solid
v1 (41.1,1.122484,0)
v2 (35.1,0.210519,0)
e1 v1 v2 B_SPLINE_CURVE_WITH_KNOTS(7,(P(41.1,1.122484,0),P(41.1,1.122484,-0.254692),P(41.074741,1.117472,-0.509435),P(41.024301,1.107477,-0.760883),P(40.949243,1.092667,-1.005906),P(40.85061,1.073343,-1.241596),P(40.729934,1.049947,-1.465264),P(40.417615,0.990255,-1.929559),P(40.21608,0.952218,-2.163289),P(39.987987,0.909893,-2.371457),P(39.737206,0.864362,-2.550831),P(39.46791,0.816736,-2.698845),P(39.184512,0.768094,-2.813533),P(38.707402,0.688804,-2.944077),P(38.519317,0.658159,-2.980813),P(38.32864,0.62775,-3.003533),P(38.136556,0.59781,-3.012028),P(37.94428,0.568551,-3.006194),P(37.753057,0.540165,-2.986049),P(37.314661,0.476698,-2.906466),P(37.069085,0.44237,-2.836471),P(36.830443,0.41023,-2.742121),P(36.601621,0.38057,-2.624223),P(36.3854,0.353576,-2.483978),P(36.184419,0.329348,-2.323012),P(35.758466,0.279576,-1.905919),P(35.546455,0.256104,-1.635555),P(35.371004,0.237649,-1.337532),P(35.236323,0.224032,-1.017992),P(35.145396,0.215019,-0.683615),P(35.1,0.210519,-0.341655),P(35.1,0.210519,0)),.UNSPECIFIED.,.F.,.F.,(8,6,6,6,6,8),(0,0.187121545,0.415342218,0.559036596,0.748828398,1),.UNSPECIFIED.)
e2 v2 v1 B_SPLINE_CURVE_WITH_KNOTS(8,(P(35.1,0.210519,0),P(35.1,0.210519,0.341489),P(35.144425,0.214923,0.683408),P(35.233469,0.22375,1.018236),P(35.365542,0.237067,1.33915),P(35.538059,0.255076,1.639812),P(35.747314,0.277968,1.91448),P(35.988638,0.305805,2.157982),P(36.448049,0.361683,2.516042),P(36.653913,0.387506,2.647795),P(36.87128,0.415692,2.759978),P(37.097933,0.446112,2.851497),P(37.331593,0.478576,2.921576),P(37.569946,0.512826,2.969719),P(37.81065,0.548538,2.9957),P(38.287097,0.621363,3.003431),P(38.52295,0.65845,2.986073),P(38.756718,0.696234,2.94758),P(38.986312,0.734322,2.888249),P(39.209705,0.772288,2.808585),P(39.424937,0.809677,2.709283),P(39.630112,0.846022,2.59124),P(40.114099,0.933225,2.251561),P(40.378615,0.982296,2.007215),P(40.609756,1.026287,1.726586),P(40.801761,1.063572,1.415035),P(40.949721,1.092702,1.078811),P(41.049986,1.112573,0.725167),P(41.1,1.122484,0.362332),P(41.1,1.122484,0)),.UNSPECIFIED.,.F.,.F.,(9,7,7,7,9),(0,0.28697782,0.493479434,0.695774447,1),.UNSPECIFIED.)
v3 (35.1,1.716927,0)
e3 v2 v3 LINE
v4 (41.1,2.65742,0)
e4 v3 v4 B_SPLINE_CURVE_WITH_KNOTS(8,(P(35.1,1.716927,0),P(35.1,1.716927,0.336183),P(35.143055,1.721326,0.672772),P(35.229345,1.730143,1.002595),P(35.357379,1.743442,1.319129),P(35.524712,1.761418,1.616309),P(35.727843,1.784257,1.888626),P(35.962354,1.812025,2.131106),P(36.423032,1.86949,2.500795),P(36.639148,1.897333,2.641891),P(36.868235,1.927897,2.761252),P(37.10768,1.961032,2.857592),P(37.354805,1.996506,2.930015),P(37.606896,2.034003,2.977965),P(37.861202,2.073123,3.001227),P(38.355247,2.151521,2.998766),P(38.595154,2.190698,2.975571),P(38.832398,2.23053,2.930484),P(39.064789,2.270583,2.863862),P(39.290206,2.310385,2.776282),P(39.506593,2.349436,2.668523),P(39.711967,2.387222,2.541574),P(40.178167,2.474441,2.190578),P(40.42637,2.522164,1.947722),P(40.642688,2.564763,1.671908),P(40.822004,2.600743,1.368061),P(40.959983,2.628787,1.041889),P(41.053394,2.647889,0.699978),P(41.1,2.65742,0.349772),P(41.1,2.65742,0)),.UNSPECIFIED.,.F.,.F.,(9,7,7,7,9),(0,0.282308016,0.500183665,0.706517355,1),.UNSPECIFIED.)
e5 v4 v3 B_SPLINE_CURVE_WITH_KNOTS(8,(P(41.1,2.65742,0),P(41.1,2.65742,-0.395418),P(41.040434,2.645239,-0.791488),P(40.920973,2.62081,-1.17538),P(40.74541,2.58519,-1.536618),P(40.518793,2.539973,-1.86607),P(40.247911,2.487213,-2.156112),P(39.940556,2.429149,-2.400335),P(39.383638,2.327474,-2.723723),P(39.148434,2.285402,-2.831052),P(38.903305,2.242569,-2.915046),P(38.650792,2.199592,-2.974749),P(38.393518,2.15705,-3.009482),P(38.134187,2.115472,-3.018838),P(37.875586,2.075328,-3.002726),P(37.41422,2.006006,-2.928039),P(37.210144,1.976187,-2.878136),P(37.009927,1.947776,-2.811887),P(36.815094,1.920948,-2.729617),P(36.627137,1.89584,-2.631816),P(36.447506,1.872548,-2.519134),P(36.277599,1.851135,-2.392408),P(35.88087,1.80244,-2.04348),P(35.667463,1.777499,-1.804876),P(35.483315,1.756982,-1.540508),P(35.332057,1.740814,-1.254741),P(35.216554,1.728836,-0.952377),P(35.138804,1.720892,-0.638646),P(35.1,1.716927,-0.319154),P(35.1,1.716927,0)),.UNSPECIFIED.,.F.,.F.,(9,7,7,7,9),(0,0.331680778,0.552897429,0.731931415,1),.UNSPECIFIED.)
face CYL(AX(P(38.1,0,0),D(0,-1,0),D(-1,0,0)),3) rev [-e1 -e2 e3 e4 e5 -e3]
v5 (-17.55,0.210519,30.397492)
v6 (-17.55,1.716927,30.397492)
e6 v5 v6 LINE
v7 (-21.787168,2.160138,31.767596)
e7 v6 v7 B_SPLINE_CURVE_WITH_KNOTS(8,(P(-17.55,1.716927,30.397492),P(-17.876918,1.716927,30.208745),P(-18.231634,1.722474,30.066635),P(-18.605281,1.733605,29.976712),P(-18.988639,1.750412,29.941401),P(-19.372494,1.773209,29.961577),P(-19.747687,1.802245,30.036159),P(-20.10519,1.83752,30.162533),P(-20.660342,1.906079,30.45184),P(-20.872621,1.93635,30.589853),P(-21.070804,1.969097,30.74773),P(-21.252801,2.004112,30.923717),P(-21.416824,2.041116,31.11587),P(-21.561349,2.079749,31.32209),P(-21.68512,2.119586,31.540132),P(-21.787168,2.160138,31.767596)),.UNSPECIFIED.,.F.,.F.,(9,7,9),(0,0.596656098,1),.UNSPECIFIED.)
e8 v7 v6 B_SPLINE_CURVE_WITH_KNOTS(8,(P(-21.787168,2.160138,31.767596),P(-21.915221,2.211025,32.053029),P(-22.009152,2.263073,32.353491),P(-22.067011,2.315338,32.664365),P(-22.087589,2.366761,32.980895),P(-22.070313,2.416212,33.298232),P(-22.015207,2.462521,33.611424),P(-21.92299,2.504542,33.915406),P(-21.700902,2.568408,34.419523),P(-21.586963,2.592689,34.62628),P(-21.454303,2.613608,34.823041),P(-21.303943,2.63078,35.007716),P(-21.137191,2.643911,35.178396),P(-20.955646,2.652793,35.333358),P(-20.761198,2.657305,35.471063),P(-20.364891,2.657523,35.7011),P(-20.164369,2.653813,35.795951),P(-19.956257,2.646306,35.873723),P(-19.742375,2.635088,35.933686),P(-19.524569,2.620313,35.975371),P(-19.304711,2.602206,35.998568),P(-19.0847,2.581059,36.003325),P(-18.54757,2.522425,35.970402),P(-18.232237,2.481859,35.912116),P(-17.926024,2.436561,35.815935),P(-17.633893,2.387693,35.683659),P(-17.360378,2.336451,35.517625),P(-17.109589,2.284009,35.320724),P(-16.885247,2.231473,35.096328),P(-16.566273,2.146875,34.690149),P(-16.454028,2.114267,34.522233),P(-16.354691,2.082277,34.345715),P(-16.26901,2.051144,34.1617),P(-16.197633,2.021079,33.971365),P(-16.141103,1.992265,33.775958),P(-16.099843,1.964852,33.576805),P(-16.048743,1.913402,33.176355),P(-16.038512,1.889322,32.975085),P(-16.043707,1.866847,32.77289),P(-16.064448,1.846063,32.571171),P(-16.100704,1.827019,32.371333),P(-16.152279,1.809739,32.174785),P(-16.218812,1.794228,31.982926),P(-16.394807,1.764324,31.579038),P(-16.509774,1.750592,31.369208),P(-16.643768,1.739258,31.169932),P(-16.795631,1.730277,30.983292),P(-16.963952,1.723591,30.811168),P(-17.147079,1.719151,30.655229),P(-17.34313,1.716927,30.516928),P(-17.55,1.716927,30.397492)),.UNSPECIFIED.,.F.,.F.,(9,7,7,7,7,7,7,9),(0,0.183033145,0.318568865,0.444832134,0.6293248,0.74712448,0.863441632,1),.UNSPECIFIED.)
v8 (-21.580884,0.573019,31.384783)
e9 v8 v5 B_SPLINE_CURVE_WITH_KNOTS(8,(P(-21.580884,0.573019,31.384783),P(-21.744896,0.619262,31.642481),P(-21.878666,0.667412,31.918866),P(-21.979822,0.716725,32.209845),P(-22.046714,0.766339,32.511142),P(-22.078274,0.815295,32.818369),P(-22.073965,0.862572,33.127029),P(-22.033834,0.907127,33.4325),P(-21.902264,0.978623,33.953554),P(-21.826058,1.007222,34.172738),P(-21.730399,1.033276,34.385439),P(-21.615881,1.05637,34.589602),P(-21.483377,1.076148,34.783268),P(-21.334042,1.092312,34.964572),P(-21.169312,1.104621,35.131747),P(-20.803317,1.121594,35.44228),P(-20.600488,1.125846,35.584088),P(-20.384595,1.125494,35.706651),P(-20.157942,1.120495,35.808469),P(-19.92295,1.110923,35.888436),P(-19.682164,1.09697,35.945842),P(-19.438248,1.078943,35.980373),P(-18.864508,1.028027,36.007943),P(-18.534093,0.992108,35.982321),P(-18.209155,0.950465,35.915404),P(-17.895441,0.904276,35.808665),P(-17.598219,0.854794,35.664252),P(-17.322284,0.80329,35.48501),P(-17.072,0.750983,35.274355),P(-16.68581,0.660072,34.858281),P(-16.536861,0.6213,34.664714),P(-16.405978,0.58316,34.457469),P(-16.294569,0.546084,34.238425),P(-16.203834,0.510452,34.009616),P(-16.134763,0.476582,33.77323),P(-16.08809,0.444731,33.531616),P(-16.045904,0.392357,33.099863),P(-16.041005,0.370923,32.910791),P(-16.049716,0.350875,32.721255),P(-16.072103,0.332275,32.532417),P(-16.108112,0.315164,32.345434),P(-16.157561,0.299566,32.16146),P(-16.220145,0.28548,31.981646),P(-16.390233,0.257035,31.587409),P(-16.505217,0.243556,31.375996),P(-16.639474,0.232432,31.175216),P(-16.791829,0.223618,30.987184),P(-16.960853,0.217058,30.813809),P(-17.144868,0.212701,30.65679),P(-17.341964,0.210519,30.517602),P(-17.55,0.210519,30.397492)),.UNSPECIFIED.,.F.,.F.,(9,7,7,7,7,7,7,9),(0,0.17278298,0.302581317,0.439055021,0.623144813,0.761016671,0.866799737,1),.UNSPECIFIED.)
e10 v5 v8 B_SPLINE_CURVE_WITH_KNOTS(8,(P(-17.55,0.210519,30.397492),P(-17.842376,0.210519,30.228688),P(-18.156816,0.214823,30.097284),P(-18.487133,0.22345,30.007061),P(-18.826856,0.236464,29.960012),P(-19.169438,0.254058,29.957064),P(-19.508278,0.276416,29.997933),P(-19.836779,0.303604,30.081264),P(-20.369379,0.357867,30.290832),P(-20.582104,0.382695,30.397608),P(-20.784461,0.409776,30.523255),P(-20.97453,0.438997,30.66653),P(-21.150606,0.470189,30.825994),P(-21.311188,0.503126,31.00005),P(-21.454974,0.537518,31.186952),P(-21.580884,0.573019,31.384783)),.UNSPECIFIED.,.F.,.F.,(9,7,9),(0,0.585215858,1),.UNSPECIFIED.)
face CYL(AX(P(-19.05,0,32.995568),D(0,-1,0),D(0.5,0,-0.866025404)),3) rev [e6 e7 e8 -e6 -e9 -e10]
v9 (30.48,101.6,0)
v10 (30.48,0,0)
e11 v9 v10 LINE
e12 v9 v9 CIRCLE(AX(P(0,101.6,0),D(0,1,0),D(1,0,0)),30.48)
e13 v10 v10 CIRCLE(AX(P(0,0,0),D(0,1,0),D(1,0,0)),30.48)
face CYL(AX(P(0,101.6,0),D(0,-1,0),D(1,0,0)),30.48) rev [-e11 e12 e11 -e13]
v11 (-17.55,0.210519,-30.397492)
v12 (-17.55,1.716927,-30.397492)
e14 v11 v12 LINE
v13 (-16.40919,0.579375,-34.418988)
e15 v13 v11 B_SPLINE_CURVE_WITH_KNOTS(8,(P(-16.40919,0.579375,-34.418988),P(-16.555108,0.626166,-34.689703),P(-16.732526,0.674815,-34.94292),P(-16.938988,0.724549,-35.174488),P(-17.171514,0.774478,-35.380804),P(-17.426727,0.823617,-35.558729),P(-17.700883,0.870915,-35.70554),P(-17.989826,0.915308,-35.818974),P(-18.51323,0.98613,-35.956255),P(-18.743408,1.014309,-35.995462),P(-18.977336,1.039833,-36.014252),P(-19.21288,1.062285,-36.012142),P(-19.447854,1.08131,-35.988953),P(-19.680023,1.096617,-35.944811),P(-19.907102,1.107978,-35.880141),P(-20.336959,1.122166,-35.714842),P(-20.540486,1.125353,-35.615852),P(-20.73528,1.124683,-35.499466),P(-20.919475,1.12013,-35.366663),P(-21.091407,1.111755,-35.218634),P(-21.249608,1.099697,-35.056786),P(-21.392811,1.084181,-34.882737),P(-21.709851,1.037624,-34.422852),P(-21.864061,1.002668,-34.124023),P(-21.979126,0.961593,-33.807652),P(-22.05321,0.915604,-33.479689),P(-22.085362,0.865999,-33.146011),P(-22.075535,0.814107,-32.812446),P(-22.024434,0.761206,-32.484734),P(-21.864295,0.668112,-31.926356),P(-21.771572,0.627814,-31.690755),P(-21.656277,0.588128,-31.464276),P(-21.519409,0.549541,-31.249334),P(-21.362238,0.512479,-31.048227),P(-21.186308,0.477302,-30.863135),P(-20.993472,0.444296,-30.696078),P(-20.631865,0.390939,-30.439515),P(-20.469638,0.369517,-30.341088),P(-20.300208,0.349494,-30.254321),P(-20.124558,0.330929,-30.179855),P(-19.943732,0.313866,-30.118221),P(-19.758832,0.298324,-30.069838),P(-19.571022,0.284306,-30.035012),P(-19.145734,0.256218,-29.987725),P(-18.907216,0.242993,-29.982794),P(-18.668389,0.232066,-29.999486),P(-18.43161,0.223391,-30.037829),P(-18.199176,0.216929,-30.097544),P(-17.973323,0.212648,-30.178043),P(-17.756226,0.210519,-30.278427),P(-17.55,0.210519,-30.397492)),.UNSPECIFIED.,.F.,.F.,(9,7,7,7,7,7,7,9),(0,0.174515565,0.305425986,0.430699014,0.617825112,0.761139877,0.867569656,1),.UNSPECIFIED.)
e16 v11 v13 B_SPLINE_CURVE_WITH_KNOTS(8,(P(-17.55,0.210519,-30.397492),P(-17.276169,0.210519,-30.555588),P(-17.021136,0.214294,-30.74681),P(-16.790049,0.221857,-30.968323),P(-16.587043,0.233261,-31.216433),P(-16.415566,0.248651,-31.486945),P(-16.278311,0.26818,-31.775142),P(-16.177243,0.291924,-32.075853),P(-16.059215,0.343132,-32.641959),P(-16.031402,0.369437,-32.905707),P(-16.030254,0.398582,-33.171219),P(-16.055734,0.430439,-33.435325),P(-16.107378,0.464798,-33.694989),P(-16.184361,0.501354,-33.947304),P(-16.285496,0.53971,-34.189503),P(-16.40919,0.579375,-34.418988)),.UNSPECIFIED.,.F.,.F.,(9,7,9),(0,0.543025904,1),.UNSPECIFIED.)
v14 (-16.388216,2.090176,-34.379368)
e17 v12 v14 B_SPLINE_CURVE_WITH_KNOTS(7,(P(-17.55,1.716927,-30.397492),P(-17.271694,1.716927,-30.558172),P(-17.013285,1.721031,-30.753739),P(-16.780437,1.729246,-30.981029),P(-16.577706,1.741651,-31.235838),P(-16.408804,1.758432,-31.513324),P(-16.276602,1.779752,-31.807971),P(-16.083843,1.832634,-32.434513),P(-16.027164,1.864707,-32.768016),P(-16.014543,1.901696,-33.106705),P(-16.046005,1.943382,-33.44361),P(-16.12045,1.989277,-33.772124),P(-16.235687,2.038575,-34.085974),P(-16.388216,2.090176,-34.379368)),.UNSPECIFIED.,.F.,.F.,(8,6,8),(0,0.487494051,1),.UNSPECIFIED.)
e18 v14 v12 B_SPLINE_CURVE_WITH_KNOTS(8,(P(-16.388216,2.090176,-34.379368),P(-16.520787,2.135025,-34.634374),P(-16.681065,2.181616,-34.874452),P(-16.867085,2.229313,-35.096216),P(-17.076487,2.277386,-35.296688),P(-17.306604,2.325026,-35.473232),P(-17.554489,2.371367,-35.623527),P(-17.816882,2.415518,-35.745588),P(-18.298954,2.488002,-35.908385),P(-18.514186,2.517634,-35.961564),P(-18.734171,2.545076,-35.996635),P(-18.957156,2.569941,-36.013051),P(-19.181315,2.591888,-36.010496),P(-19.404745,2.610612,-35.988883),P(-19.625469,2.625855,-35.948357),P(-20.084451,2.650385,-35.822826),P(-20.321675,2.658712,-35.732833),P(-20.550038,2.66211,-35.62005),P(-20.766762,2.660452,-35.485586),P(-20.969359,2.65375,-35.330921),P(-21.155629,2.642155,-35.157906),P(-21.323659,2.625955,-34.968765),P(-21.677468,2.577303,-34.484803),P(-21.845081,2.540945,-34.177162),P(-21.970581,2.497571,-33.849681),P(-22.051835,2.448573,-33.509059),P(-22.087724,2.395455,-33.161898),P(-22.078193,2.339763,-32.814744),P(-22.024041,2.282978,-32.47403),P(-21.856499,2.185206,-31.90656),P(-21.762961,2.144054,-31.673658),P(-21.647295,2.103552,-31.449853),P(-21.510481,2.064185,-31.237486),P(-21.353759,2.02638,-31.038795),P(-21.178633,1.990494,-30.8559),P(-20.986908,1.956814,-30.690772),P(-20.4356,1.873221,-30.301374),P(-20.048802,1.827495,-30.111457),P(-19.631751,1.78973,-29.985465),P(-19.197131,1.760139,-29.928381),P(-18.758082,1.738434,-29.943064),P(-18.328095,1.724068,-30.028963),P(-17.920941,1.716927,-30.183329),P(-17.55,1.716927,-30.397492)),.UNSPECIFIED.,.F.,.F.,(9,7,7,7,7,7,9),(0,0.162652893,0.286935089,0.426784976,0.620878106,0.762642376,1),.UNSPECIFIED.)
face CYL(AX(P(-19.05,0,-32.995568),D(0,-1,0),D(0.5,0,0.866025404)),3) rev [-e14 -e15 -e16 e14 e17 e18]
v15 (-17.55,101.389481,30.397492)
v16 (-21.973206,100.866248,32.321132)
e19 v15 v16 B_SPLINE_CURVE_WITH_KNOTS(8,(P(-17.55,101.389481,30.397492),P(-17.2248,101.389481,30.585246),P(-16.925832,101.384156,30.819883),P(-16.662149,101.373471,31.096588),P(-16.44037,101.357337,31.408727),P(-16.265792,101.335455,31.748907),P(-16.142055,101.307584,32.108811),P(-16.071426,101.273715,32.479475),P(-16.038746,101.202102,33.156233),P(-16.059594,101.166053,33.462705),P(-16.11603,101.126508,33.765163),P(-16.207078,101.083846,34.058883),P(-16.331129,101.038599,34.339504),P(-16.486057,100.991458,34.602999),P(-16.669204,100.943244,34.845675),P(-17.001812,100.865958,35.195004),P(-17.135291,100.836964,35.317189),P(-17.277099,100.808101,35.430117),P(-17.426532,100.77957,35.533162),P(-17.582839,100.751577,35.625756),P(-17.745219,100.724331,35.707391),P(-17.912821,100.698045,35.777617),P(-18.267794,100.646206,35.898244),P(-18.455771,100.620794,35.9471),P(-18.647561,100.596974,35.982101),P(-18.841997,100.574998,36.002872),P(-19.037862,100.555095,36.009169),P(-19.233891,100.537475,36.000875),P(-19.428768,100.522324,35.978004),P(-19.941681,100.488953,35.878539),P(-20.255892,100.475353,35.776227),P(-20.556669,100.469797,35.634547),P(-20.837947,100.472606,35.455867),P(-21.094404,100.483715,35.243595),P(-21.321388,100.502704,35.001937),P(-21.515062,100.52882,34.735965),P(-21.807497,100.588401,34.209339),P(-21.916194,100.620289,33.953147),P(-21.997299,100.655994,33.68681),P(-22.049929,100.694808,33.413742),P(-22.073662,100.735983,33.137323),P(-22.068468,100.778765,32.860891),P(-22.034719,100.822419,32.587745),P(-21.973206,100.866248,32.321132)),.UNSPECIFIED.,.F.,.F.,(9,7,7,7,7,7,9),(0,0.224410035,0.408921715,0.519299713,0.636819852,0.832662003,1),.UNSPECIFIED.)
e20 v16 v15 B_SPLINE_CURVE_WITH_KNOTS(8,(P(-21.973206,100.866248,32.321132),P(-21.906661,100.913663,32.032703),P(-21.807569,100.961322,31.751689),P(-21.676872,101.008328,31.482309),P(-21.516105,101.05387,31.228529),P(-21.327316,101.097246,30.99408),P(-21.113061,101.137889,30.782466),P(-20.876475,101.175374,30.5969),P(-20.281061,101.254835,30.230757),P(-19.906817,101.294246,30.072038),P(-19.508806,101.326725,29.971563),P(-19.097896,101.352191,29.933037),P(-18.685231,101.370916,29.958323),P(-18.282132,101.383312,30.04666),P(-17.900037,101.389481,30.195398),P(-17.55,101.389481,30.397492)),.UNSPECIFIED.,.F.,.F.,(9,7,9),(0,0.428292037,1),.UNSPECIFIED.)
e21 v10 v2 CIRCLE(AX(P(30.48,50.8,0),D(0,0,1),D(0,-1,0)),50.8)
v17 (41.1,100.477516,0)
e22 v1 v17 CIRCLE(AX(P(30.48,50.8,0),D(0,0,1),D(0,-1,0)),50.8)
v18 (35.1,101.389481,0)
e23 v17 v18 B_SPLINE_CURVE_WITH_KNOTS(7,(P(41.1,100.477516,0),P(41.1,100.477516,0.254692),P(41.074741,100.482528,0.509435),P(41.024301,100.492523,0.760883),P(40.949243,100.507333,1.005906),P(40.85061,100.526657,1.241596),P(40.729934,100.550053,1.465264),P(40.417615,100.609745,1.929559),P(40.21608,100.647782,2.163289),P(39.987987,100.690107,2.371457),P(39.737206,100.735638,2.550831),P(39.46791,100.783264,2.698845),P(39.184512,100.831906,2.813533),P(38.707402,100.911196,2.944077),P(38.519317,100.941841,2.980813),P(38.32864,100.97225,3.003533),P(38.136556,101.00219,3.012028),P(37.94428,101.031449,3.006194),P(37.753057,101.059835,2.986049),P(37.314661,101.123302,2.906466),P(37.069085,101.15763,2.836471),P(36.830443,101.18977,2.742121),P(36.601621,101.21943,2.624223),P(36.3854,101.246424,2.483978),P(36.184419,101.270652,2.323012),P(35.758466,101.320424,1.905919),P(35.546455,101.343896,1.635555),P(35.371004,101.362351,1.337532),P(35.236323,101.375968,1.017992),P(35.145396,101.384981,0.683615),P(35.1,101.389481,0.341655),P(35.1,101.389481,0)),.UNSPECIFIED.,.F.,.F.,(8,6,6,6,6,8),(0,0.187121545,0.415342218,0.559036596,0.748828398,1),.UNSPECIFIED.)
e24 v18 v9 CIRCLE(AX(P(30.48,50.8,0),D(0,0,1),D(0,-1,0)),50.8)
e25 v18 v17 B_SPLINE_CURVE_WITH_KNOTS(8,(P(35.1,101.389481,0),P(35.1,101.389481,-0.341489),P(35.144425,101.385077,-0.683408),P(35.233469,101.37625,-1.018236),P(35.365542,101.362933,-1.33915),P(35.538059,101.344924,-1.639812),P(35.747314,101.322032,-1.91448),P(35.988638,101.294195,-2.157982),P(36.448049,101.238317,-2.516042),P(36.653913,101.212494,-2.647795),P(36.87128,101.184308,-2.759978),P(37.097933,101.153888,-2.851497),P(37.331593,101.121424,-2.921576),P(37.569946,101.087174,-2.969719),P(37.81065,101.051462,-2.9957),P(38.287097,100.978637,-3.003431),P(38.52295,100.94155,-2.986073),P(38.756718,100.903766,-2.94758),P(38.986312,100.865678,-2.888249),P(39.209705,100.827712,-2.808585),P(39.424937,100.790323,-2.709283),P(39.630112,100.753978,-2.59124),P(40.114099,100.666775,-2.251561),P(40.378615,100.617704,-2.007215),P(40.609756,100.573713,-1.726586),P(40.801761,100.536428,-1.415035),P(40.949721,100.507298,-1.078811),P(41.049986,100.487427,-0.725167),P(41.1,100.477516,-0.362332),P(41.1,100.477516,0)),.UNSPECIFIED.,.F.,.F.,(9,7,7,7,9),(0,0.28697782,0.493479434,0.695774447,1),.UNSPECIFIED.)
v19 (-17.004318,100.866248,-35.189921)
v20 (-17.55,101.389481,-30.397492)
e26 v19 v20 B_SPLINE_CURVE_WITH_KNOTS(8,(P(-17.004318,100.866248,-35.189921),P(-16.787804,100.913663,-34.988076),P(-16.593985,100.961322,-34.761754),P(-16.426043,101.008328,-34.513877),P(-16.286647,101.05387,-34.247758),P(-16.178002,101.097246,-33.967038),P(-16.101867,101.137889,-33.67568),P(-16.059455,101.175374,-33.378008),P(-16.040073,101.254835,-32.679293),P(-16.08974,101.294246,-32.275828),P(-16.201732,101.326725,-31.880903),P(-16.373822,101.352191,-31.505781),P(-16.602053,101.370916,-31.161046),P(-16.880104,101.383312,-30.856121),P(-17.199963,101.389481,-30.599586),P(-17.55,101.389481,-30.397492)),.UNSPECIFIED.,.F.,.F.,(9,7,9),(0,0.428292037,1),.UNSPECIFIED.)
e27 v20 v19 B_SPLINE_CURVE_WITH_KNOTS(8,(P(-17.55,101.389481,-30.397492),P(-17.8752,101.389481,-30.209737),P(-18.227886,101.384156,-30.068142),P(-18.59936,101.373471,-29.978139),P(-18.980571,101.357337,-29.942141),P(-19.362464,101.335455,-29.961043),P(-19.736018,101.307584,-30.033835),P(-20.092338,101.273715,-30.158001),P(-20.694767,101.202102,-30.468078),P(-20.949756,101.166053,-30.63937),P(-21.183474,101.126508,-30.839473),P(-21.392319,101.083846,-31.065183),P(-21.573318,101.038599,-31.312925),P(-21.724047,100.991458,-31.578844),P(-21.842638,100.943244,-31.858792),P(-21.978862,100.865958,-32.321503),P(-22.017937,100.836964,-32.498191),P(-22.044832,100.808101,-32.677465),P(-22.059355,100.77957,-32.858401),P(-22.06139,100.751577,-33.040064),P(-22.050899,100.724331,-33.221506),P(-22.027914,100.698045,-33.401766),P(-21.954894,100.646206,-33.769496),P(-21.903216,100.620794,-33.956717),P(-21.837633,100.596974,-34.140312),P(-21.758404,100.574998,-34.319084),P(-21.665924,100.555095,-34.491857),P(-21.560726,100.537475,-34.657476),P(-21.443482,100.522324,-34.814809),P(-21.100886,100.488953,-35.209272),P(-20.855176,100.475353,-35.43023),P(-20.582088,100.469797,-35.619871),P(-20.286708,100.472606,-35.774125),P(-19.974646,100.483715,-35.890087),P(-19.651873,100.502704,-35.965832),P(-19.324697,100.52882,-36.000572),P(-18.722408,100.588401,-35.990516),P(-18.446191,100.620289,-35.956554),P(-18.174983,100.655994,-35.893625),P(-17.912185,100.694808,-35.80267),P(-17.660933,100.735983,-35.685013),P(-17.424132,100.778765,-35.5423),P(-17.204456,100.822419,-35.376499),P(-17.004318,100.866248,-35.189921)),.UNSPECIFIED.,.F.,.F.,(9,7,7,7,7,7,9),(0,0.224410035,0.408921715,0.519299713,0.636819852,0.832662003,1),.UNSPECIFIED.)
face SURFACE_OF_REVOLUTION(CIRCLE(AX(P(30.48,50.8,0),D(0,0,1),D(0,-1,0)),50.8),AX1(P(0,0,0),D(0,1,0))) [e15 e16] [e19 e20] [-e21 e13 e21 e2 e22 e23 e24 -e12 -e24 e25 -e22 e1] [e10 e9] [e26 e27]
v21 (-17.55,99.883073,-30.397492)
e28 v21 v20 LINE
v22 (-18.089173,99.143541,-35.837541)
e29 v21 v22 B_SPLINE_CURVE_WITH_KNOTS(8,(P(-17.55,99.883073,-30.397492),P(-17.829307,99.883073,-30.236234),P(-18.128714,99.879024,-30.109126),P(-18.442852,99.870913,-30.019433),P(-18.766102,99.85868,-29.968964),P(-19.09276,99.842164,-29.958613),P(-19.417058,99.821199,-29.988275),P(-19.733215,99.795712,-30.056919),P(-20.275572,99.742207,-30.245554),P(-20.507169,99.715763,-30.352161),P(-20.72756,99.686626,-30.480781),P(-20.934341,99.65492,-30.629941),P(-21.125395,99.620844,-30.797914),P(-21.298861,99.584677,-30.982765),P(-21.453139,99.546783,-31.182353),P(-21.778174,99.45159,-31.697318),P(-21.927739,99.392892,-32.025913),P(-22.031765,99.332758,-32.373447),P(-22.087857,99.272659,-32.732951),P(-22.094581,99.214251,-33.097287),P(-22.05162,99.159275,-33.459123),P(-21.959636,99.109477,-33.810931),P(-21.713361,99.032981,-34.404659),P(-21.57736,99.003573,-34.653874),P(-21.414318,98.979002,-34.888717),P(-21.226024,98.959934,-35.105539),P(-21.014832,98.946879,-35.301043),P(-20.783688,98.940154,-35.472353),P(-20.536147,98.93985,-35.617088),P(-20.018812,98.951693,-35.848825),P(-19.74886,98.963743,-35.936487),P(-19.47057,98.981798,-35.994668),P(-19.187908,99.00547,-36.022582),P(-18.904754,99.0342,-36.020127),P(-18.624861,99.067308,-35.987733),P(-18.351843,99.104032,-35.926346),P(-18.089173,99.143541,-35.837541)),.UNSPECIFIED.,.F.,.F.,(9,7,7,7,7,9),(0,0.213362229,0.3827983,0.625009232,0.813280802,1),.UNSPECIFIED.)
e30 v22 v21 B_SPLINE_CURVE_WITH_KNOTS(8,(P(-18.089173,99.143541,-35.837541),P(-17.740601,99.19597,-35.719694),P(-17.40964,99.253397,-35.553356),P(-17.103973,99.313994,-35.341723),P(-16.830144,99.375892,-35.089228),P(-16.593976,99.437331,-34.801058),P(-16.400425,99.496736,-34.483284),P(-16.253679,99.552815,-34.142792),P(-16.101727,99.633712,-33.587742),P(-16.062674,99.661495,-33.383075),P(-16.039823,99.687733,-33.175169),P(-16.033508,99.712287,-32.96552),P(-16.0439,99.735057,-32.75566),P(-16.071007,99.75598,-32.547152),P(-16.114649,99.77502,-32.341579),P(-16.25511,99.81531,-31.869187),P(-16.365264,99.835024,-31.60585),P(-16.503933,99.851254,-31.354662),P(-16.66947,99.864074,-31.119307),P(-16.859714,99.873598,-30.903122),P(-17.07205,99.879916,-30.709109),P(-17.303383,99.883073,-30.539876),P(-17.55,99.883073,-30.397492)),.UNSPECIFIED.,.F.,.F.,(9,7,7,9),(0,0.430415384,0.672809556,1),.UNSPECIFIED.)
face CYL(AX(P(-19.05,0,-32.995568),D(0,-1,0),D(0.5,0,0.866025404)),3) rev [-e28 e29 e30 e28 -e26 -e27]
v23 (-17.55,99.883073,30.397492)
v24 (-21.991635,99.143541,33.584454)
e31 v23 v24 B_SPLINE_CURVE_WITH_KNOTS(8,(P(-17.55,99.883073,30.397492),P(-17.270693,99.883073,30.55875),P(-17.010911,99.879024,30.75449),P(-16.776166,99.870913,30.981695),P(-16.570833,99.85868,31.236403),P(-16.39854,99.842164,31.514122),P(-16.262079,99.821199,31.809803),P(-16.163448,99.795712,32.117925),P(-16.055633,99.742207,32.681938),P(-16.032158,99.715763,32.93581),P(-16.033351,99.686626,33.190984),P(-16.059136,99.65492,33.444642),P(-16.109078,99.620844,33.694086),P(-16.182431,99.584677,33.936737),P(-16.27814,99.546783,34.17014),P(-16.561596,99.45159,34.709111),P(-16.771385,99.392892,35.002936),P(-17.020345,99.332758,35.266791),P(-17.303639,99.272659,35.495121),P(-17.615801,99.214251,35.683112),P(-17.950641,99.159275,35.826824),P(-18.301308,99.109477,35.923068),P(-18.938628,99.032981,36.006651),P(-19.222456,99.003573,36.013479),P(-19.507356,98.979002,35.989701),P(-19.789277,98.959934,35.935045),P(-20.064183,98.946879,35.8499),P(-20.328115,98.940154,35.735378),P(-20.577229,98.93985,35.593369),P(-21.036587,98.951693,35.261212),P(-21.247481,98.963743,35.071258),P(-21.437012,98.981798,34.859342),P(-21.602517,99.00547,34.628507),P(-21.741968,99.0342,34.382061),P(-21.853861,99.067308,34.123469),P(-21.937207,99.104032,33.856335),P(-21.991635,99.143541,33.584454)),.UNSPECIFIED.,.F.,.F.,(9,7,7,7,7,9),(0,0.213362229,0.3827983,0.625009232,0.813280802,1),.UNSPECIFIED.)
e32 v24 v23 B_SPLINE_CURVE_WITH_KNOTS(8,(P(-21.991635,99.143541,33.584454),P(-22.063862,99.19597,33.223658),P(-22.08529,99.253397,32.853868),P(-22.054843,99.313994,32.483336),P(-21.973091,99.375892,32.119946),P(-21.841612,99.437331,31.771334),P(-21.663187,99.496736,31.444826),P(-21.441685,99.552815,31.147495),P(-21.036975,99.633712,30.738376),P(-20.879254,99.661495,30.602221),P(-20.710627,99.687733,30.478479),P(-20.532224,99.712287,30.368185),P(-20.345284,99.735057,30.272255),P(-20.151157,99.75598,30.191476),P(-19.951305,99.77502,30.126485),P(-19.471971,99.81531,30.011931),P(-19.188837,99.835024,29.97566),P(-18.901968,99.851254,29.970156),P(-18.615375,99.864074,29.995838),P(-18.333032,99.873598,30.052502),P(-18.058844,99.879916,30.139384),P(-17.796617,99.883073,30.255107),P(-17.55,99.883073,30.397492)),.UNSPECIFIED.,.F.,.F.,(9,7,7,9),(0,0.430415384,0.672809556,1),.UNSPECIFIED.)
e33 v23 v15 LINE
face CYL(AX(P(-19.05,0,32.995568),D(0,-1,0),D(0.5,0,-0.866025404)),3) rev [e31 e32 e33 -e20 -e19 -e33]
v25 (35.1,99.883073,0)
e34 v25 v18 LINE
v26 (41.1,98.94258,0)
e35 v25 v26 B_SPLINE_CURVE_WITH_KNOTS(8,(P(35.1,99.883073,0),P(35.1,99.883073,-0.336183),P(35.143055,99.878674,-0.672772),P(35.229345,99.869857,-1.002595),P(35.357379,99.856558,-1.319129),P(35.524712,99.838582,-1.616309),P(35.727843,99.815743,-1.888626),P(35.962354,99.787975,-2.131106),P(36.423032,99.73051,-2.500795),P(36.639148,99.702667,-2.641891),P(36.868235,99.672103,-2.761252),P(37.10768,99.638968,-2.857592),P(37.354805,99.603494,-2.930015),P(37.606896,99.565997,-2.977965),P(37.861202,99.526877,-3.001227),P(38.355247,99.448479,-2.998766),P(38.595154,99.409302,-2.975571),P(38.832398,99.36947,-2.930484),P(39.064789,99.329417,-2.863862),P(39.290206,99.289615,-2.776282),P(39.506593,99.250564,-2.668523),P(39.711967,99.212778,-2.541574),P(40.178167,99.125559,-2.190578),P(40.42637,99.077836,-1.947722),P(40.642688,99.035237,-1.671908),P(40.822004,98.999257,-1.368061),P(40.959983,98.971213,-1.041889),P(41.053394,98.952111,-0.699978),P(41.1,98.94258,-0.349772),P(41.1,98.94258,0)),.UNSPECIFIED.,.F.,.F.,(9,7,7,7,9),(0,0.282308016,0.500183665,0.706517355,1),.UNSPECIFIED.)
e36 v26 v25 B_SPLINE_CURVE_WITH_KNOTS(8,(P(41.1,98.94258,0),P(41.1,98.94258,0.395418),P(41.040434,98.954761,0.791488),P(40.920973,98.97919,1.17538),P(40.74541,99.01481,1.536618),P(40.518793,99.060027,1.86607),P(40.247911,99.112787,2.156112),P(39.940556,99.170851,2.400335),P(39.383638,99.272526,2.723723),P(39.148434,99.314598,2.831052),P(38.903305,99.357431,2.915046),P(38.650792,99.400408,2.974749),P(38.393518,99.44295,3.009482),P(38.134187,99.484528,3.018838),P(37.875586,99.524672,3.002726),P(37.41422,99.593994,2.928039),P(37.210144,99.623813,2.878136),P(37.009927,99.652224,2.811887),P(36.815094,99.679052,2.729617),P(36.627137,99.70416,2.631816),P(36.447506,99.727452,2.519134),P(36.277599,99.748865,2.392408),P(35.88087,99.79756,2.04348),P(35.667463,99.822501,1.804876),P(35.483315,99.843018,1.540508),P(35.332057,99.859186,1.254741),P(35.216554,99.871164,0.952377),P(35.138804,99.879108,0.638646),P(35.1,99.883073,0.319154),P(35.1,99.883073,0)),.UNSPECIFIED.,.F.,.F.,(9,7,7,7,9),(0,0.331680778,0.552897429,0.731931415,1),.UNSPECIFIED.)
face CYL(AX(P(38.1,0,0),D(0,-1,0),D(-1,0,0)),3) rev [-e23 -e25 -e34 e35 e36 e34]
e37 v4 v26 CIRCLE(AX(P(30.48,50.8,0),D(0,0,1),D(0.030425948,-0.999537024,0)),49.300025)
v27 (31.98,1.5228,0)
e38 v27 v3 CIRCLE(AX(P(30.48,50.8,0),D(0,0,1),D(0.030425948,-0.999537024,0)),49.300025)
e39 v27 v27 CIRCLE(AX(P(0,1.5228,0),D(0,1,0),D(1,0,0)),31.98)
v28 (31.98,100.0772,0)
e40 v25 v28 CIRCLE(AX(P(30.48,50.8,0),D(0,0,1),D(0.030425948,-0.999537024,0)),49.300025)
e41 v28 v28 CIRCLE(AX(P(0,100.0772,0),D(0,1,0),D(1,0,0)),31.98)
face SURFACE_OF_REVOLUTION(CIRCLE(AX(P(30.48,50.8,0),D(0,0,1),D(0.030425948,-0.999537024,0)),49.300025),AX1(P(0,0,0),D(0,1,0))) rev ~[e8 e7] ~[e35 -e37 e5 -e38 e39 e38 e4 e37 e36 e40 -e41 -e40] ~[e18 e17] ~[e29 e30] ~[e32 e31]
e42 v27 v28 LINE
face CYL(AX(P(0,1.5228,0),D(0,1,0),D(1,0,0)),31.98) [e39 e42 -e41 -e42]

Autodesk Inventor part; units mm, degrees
ref_plane "YZ Plane" through (0, 0, 0) normal (1, 0, 0) x (0, 1, 0)
ref_plane "XZ Plane" through (0, 0, 0) normal (0, 1, 0) x (-1, 0, 0)
ref_plane "XY Plane" through (0, 0, 0) normal (0, 0, 1) x (1, 0, 0)
sketch "Sketch1" plane through (0, 0, 0) normal (0, 0, 1) x (1, 0, 0)
  line L0 (0, 0) -> (0, 101.6) construction
  line L1 (0, 101.6) -> (30.48, 101.6) construction
  line L2 (30.48, 101.6) -> (30.48, 0)
  arc A0 (30.48, 0) -> (30.48, 101.6) centre (30.48, 50.8) ccw
  line L3 (31.98, 1.5228) -> (31.98, 100.0772)
  arc A1 (31.98, 1.5228) -> (31.98, 100.0772) centre (30.48, 50.8) ccw
  dimension "d0" = 30.48
  dimension "d1" = 101.6
  dimension "d2" = 50.8
  dimension "d3" = 1.5
revolve "Revolution1" add sketch "Sketch1" angle 360 about axis through (0, 0, 0) along (0, 1, 0)
sketch "Sketch2" plane through (0, 0, 0) normal (0, 1, 0) x (-1, 0, 0)
  line L0 (0, 0) -> (-38.1, 0) construction
  circle A0 centre (-38.1, 0) radius 3
  dimension "d5" = 6
  dimension "d6" = 38.1
extrude "Extrusion1" cut sketch "Sketch2" along normal blind 101.6
pattern_circular "Circular Pattern1" count 3 over 360 about axis through (0, 50.8, 0) along (0, 1, 0) of "Extrusion1"
properties part number "Buoy 6 FatHalfSphere_3DPrint"
